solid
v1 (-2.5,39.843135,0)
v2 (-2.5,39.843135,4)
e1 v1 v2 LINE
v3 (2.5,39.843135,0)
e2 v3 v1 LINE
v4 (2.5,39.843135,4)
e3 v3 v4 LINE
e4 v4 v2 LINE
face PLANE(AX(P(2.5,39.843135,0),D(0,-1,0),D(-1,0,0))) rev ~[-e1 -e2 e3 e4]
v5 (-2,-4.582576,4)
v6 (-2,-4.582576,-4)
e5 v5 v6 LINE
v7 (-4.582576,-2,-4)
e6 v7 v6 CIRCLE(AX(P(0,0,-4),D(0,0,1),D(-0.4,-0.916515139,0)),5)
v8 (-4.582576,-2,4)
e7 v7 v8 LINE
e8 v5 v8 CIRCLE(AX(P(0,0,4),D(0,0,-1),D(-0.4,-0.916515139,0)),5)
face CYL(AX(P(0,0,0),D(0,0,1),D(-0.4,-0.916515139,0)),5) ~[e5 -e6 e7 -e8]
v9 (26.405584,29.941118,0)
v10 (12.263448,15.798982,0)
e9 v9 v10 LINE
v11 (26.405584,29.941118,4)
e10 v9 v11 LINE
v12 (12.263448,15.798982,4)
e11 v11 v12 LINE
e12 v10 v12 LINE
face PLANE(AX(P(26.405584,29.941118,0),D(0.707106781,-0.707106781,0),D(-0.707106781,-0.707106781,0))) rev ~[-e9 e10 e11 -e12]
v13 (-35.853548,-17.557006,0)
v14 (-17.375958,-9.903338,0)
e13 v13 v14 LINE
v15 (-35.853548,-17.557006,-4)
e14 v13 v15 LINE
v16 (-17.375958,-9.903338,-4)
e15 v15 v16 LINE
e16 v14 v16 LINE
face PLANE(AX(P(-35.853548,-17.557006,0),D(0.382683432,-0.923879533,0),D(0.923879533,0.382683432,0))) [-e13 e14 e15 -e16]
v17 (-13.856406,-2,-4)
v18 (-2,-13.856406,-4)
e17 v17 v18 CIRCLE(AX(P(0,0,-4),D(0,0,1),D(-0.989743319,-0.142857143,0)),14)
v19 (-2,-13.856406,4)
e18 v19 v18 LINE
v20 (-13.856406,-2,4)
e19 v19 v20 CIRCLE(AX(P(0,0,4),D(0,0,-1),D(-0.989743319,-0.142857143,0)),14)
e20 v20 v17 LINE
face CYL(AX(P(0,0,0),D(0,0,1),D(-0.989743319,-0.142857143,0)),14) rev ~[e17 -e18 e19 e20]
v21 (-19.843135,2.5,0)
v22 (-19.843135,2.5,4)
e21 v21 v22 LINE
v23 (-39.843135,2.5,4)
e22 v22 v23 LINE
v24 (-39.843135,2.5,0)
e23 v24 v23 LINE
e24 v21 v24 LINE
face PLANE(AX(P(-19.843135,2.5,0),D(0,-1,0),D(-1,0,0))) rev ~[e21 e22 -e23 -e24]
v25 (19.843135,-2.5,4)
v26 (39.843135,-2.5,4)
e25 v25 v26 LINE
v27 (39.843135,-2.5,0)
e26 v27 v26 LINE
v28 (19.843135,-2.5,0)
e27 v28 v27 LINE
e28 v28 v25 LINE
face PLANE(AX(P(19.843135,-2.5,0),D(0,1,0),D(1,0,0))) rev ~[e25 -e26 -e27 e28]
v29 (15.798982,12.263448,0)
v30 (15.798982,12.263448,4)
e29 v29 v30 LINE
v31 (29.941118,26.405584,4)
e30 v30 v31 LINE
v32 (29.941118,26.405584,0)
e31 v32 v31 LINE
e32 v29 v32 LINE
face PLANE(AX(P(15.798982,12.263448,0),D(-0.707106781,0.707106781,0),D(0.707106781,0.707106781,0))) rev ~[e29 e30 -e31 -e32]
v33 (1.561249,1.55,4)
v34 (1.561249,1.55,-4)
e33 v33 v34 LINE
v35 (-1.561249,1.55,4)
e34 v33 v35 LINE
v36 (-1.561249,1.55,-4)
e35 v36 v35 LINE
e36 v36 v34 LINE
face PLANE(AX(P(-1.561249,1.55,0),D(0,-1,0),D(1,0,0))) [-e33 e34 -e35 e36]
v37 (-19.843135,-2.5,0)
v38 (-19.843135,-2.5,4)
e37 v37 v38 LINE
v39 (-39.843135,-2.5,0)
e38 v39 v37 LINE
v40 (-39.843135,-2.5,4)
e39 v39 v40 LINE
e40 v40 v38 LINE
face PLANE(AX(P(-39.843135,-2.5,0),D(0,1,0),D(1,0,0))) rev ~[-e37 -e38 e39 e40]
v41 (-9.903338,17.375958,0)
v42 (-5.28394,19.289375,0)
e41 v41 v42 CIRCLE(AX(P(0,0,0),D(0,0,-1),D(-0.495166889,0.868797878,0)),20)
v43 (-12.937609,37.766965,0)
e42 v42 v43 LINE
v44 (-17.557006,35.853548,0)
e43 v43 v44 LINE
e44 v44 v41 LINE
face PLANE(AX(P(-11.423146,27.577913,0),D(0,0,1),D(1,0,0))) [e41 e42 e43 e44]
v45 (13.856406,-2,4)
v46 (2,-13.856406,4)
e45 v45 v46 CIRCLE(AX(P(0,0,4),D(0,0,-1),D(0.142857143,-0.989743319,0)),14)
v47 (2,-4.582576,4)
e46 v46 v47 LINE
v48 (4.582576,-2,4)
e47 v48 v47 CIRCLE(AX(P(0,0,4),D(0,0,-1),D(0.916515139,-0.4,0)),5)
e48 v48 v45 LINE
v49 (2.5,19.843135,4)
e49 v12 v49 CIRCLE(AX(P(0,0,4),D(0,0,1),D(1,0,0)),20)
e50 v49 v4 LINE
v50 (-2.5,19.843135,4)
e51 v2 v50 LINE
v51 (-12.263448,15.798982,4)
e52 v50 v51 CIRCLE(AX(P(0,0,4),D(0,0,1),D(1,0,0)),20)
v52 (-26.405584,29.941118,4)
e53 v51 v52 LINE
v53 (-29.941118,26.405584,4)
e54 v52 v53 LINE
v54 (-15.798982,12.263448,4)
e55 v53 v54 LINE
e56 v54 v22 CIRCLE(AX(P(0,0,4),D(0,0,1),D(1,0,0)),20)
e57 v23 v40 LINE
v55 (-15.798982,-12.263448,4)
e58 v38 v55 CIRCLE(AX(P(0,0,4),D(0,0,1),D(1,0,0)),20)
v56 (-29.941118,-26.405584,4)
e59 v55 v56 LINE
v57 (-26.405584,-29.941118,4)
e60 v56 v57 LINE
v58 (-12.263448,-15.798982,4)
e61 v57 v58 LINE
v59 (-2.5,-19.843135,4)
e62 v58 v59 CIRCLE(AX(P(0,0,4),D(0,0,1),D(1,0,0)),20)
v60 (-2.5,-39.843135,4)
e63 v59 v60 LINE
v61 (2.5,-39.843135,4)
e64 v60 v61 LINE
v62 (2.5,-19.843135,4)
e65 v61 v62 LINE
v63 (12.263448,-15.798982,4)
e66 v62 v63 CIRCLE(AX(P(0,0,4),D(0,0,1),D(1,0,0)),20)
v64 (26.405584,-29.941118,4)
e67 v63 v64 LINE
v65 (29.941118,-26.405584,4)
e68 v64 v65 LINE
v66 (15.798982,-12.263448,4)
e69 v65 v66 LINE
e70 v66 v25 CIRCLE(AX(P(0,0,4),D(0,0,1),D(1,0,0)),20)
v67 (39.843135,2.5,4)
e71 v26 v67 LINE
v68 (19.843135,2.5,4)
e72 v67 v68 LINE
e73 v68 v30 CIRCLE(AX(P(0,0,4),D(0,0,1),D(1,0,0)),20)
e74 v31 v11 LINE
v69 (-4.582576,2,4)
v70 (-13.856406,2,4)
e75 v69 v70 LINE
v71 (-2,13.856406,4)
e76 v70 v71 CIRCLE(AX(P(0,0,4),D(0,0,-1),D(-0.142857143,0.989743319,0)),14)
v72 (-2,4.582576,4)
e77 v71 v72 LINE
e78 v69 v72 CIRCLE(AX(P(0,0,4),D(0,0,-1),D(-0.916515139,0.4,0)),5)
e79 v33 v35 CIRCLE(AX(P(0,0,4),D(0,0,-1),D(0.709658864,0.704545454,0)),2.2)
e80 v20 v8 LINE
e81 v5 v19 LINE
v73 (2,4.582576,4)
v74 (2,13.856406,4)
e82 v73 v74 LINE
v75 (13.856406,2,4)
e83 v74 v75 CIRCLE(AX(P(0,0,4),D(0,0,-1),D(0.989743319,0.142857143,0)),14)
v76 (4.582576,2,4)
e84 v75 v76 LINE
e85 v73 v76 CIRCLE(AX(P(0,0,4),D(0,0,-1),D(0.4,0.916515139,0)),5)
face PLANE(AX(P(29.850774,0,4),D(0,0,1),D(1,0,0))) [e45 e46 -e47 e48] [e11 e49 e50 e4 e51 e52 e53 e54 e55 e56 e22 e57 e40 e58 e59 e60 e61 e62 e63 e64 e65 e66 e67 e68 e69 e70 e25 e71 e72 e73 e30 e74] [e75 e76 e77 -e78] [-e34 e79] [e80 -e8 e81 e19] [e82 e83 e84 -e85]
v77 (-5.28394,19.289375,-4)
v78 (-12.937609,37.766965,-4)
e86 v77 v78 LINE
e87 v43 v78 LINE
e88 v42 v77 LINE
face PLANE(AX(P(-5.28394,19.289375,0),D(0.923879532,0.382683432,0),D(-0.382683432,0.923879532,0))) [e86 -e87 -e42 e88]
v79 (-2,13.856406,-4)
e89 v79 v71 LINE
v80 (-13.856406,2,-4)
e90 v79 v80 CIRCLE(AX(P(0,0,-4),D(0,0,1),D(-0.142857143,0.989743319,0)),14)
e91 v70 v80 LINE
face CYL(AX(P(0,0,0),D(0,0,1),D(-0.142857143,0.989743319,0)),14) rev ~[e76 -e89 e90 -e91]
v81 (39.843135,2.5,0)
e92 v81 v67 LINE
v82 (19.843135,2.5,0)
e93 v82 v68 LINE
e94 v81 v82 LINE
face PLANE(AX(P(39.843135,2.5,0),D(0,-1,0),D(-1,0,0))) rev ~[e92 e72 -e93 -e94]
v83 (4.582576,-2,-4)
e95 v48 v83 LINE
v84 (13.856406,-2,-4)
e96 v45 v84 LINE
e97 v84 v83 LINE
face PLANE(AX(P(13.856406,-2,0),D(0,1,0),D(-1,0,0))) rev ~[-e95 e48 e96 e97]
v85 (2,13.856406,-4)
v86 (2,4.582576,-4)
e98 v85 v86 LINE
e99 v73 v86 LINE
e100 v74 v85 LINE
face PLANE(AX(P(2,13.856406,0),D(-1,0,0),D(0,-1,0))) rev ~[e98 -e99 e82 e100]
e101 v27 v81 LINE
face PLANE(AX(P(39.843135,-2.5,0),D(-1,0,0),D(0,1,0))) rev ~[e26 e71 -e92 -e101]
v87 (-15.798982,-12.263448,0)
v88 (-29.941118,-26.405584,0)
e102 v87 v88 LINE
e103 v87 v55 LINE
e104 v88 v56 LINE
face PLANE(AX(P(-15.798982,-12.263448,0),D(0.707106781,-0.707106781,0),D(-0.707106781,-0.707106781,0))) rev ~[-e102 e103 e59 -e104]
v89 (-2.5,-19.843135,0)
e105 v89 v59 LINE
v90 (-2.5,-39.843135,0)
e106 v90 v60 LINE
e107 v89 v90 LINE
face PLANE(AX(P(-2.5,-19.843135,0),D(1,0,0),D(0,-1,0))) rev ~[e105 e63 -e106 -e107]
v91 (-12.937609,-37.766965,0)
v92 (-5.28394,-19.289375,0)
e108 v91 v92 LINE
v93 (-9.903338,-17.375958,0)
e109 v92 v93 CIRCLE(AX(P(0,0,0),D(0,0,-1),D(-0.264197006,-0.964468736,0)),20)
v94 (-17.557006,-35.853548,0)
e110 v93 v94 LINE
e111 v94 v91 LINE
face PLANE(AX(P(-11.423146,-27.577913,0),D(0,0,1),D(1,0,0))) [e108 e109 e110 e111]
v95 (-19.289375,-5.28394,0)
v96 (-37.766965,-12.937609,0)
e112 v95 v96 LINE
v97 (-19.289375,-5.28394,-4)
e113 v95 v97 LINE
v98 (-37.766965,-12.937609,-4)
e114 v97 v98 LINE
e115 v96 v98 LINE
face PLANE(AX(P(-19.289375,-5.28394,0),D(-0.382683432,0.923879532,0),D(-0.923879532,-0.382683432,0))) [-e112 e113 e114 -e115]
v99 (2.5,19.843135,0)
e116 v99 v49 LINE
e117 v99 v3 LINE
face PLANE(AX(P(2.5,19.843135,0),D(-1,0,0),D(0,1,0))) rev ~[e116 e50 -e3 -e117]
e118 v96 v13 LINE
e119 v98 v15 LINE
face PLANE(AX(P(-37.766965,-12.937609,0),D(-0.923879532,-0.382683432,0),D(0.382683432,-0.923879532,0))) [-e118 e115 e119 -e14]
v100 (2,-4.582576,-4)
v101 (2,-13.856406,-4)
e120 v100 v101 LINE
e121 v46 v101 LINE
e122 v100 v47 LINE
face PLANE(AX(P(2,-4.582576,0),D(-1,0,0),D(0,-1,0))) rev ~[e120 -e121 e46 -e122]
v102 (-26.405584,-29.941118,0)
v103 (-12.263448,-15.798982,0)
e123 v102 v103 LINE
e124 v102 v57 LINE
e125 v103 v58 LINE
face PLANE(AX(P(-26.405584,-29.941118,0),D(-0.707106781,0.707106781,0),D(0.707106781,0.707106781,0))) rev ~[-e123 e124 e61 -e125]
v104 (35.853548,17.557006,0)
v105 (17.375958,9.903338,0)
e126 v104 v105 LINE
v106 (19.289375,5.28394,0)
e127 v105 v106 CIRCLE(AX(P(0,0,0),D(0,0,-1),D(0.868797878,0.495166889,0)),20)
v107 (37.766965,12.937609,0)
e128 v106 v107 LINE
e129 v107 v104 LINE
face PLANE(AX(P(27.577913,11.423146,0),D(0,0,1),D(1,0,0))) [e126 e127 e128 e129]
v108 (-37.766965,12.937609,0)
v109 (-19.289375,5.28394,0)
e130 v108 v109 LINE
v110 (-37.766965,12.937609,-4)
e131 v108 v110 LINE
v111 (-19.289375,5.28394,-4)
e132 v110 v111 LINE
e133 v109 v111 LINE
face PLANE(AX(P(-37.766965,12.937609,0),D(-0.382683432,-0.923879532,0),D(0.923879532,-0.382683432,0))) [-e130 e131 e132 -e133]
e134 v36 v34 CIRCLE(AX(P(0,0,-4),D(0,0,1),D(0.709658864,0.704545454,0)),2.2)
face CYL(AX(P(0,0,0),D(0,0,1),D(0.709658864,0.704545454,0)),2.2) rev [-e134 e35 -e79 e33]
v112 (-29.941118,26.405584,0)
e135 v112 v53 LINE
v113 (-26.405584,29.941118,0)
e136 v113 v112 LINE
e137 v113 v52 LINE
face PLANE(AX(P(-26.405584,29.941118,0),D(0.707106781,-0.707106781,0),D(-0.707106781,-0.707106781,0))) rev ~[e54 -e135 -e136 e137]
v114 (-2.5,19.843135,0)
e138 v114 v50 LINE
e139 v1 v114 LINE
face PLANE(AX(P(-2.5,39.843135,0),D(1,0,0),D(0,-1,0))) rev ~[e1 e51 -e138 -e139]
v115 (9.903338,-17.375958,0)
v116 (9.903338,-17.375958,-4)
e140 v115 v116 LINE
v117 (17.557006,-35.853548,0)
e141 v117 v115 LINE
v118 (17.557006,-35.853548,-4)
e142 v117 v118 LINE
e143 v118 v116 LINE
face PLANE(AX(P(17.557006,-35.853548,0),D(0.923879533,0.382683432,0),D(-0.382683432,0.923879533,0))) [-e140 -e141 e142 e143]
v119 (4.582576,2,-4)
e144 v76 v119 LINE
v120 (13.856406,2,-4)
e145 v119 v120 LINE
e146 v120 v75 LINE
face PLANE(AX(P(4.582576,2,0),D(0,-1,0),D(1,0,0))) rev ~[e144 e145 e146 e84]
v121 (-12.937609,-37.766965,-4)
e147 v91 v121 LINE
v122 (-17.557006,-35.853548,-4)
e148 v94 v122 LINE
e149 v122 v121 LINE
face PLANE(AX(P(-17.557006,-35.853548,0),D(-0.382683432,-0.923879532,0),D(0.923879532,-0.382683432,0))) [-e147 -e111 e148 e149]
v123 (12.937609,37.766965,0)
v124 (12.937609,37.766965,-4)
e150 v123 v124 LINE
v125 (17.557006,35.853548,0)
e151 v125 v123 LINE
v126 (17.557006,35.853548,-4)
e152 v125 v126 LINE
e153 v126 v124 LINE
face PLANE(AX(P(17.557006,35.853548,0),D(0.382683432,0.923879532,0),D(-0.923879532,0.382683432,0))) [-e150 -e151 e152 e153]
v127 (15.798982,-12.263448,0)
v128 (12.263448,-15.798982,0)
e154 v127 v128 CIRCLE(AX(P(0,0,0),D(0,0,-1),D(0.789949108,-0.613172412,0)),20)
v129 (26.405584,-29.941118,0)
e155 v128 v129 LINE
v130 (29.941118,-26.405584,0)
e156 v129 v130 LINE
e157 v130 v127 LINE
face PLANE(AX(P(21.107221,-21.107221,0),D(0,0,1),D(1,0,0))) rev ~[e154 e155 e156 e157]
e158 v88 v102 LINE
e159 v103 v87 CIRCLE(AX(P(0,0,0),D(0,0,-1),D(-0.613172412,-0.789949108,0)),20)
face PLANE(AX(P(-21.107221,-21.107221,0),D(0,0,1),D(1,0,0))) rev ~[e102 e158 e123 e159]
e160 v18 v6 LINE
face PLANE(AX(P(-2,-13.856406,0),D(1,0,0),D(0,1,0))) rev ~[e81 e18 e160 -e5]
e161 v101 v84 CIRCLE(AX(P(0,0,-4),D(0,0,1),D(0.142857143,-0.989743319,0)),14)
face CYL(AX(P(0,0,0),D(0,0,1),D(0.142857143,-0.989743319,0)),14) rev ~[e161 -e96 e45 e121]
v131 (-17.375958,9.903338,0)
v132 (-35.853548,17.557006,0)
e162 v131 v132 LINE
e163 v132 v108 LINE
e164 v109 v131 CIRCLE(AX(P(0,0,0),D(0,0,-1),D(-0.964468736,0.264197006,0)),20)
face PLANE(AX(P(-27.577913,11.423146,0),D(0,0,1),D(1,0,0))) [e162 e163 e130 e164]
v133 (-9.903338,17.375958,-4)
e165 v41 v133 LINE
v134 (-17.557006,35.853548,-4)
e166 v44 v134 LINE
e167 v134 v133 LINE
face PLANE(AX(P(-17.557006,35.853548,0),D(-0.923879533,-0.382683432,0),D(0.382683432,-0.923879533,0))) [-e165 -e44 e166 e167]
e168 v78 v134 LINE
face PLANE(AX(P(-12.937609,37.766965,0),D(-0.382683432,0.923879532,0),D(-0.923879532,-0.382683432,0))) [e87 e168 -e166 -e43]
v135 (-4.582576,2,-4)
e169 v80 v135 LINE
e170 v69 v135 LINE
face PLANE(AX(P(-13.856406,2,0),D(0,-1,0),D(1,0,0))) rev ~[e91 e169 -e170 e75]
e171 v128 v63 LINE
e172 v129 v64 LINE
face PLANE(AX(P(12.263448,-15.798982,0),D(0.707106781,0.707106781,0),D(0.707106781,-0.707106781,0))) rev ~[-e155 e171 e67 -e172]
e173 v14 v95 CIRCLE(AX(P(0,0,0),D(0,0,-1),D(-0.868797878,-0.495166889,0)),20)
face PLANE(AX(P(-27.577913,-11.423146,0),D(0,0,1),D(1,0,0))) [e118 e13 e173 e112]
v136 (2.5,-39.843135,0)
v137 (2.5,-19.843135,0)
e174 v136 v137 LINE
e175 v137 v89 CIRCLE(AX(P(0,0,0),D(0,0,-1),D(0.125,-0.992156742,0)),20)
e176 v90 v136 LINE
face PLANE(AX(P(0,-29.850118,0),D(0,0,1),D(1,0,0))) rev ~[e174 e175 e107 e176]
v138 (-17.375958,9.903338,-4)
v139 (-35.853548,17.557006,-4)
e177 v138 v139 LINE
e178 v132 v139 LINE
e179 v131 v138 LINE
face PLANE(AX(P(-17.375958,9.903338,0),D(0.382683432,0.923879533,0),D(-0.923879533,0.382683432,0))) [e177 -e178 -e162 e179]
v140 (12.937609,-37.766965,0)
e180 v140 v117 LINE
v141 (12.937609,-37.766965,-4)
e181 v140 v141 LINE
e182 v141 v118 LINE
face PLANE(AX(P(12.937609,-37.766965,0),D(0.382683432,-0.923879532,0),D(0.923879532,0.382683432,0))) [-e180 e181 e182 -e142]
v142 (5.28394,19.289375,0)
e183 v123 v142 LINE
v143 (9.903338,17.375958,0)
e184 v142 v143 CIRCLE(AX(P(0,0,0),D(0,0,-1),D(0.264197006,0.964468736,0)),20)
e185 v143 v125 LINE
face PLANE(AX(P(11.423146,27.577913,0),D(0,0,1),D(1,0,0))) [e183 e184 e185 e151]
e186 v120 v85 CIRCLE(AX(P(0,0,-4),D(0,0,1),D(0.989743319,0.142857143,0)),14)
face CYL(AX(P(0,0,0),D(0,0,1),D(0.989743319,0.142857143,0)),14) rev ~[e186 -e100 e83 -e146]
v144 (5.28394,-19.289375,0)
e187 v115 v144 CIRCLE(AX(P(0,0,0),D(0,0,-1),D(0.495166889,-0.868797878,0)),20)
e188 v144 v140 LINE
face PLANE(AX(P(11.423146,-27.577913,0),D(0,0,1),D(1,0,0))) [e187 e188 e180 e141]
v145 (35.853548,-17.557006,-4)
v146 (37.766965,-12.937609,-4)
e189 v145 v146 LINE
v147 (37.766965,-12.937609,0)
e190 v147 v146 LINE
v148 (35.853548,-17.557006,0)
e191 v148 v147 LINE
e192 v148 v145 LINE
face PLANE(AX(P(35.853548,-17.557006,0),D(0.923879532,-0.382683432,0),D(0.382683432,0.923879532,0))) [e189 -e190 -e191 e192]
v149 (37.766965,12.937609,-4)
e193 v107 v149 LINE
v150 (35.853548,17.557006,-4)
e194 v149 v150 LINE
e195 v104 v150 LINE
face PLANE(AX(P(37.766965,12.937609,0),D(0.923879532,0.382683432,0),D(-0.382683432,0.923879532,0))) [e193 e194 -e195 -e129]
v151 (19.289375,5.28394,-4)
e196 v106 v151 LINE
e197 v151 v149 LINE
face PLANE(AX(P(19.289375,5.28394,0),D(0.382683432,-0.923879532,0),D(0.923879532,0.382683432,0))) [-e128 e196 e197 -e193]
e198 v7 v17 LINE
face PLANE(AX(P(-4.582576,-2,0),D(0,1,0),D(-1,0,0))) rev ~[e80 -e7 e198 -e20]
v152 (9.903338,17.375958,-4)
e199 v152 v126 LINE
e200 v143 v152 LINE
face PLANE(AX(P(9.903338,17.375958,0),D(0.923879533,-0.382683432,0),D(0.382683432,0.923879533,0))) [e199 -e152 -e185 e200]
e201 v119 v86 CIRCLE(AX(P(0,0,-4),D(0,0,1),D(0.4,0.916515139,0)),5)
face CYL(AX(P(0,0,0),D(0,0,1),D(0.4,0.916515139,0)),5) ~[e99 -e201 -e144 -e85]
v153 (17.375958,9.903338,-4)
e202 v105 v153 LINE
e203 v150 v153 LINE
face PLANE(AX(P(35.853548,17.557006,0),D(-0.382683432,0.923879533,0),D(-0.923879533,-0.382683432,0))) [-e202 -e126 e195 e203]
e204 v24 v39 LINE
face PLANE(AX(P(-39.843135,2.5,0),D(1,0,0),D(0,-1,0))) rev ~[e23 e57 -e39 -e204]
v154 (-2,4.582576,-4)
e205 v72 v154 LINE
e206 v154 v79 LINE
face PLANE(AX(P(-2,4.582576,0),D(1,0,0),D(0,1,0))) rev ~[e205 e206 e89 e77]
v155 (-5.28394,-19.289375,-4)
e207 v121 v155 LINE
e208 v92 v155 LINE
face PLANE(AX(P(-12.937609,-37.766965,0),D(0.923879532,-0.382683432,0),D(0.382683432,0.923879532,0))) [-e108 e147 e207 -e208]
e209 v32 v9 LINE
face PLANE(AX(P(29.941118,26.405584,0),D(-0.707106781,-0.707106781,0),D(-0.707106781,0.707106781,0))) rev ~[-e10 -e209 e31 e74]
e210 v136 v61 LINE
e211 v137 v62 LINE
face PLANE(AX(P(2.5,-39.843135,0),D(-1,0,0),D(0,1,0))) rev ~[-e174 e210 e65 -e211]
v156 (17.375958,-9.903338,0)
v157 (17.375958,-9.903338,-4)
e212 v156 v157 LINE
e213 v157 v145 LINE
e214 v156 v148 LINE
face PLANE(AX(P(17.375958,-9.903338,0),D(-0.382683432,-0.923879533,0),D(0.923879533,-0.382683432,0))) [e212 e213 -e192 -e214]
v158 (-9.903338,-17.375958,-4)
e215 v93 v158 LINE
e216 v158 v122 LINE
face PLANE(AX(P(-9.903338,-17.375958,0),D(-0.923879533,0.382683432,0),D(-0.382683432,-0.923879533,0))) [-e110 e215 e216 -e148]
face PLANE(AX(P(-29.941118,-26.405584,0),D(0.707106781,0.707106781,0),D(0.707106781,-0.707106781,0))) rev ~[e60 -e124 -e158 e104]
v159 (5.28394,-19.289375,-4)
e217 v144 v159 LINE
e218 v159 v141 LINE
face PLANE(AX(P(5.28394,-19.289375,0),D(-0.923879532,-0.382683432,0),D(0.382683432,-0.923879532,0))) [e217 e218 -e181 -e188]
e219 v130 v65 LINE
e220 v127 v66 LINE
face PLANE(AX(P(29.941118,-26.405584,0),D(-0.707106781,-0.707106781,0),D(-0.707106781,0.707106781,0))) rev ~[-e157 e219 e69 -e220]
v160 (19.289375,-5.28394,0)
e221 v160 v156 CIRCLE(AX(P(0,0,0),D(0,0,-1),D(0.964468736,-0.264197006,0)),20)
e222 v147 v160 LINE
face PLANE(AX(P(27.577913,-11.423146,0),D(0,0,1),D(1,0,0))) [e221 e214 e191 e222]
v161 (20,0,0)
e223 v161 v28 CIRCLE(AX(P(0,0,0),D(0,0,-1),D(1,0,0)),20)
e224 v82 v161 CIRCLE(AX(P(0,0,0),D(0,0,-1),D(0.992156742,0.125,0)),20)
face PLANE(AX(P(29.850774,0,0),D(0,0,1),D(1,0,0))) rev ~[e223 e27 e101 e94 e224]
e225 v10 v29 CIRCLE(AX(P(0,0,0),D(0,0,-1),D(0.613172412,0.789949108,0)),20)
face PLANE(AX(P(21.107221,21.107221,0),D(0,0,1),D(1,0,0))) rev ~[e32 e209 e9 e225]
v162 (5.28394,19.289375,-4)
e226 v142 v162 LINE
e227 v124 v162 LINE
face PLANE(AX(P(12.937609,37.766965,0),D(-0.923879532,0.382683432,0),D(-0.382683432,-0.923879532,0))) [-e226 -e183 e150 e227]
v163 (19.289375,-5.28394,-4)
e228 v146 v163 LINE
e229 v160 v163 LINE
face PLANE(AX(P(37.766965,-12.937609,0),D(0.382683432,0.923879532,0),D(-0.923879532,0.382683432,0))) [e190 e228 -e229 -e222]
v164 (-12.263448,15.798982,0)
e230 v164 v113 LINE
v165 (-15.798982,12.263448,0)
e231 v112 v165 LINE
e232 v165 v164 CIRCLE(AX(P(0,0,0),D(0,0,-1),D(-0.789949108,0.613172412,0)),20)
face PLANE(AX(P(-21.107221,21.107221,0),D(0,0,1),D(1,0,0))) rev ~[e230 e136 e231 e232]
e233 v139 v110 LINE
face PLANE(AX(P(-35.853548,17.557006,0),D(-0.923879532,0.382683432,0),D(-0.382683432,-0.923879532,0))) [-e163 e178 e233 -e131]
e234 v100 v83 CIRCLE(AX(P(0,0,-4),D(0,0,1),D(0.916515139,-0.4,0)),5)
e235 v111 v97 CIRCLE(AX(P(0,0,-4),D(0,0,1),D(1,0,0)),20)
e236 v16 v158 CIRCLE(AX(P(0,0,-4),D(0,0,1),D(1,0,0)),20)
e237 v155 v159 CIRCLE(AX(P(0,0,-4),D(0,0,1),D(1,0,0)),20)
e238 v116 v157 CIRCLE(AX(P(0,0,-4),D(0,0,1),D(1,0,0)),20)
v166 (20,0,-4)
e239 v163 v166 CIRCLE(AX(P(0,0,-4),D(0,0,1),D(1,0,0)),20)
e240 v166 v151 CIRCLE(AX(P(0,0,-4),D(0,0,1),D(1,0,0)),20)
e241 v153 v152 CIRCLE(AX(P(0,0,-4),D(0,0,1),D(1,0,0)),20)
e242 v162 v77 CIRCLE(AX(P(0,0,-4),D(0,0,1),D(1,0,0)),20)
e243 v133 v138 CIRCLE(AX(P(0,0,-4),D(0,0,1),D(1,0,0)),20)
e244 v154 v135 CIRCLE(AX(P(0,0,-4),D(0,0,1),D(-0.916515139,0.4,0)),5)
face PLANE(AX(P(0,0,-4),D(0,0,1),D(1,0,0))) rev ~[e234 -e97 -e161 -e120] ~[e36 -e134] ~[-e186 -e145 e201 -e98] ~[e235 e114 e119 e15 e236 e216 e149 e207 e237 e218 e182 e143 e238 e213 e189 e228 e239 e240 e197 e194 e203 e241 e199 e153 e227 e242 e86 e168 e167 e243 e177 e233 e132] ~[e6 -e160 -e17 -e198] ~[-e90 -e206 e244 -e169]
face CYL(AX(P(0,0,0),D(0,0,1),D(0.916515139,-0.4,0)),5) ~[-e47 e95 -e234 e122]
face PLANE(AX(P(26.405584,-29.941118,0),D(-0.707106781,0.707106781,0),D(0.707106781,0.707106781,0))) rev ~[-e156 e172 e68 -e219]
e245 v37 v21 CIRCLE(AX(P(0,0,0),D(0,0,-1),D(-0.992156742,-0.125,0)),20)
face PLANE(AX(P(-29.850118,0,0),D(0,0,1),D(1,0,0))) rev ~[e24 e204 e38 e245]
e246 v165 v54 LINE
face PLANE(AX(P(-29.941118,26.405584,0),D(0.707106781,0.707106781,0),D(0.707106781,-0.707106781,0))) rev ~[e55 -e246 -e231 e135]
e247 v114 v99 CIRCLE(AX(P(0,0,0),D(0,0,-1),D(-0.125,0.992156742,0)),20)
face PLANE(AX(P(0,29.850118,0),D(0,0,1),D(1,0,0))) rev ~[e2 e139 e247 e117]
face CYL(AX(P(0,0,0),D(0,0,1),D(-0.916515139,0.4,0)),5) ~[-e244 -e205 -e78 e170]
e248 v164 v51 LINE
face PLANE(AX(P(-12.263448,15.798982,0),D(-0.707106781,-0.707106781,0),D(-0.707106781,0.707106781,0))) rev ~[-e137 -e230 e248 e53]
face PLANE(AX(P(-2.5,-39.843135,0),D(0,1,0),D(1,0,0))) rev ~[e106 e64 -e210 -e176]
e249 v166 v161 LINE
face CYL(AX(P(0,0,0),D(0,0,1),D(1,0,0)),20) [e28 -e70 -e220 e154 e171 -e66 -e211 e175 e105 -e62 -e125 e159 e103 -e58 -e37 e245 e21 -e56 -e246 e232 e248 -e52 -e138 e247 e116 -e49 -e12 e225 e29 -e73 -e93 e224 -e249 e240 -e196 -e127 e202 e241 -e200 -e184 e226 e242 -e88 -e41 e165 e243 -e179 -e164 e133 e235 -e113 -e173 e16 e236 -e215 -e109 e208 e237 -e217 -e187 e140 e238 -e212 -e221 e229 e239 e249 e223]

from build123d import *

# Parameters (mm, degrees)
SKETCH_2_R               = 20
EXTRUDE_3_DEPTH          = 4
CUT_EXTRUDE_6_DEPTH      = 5
CUT_EXTRUDE_6_DEPTH_BACK = 5
CUT_EXTRUDE_7_DEPTH      = 5
CUT_EXTRUDE_7_DEPTH_BACK = 5
EXTRUDE_4_DEPTH          = 4
EXTRUDE_5_DEPTH          = 4


with BuildPart() as part:
    # Эскиз2 → Бобышка-Вытянуть3 (new body, symmetric)
    with BuildSketch(Plane.XY):
        Circle(SKETCH_2_R)
    extrude(amount=EXTRUDE_3_DEPTH, both=True)

    # Эскиз2<10> → Вырез-Вытянуть6 (cut, two sides)
    with BuildSketch(Plane.XY) as cut_extrude_6_sk:
        with BuildLine():
            Line((-1.5612495, 1.55), (1.5612495, 1.55))
            ThreePointArc((1.5612495, 1.55), (0, -2.2), (-1.5612495, 1.55))
        make_face()
    extrude(amount=CUT_EXTRUDE_6_DEPTH, mode=Mode.SUBTRACT)
    extrude(cut_extrude_6_sk.sketch, amount=-CUT_EXTRUDE_6_DEPTH_BACK, mode=Mode.SUBTRACT)

    # Эскиз2<11> → Вырез-Вытянуть7 (cut, two sides)
    with BuildSketch(Plane.XY) as cut_extrude_7_sk:
        with BuildLine():
            ThreePointArc((13.856406461, 2), (9.899494937, 9.899494937), (2, 13.856406461))
            Line((2, 13.856406461), (2, 4.582575695))
            ThreePointArc((2, 4.582575695), (3.535533906, 3.535533906), (4.582575695, 2))
            Line((4.582575695, 2), (13.856406461, 2))
        make_face()
        with BuildLine():
            ThreePointArc((-2, 13.856406461), (-9.899494937, 9.899494937), (-13.856406461, 2))
            Line((-13.856406461, 2), (-4.582575695, 2))
            ThreePointArc((-4.582575695, 2), (-3.535533906, 3.535533906), (-2, 4.582575695))
            Line((-2, 4.582575695), (-2, 13.856406461))
        make_face()
        with BuildLine():
            Line((-4.582575695, -2), (-13.856406461, -2))
            ThreePointArc((-13.856406461, -2), (-9.899494937, -9.899494937), (-2, -13.856406461))
            Line((-2, -13.856406461), (-2, -4.582575695))
            ThreePointArc((-2, -4.582575695), (-3.535533906, -3.535533906), (-4.582575695, -2))
        make_face()
        with BuildLine():
            Line((2, -4.582575695), (2, -13.856406461))
            ThreePointArc((2, -13.856406461), (9.899494937, -9.899494937), (13.856406461, -2))
            Line((13.856406461, -2), (4.582575695, -2))
            ThreePointArc((4.582575695, -2), (3.535533906, -3.535533906), (2, -4.582575695))
        make_face()
    extrude(amount=CUT_EXTRUDE_7_DEPTH, mode=Mode.SUBTRACT)
    extrude(cut_extrude_7_sk.sketch, amount=-CUT_EXTRUDE_7_DEPTH_BACK, mode=Mode.SUBTRACT)

    # Эскиз2<12> → Бобышка-Вытянуть4 (add)
    with BuildSketch(Plane.XY):
        with BuildLine():
            ThreePointArc((20, 0), (19.960745185, -1.252458251), (19.843134833, -2.5))
            Line((19.843134833, -2.5), (39.843134833, -2.5))
            Line((39.843134833, -2.5), (39.843134833, 2.5))
            Line((39.843134833, 2.5), (19.843134833, 2.5))
            ThreePointArc((19.843134833, 2.5), (19.960745185, 1.252458251), (20, 0))
        make_face()
        with BuildLine():
            Line((26.405583871, 29.941117777), (12.263448247, 15.798982153))
            ThreePointArc((12.263448247, 15.798982153), (14.142135624, 14.142135624), (15.798982153, 12.263448247))
            Line((15.798982153, 12.263448247), (29.941117777, 26.405583871))
            Line((29.941117777, 26.405583871), (26.405583871, 29.941117777))
        make_face()
        with BuildLine():
            Line((-2.5, 39.843134833), (-2.5, 19.843134833))
            ThreePointArc((-2.5, 19.843134833), (0, 20), (2.5, 19.843134833))
            Line((2.5, 19.843134833), (2.5, 39.843134833))
            Line((2.5, 39.843134833), (-2.5, 39.843134833))
        make_face()
        with BuildLine():
            Line((-29.941117777, 26.405583871), (-15.798982153, 12.263448247))
            ThreePointArc((-15.798982153, 12.263448247), (-14.142135624, 14.142135624), (-12.263448247, 15.798982153))
            Line((-12.263448247, 15.798982153), (-26.405583871, 29.941117777))
            Line((-26.405583871, 29.941117777), (-29.941117777, 26.405583871))
        make_face()
        with BuildLine():
            Line((-39.843134833, -2.5), (-19.843134833, -2.5))
            ThreePointArc((-19.843134833, -2.5), (-20, 0), (-19.843134833, 2.5))
            Line((-19.843134833, 2.5), (-39.843134833, 2.5))
            Line((-39.843134833, 2.5), (-39.843134833, -2.5))
        make_face()
        with BuildLine():
            ThreePointArc((-12.263448247, -15.798982153), (-14.142135624, -14.142135624), (-15.798982153, -12.263448247))
            Line((-15.798982153, -12.263448247), (-29.941117777, -26.405583871))
            Line((-29.941117777, -26.405583871), (-26.405583871, -29.941117777))
            Line((-26.405583871, -29.941117777), (-12.263448247, -15.798982153))
        make_face()
        with BuildLine():
            ThreePointArc((2.5, -19.843134833), (0, -20), (-2.5, -19.843134833))
            Line((-2.5, -19.843134833), (-2.5, -39.843134833))
            Line((-2.5, -39.843134833), (2.5, -39.843134833))
            Line((2.5, -39.843134833), (2.5, -19.843134833))
        make_face()
        with BuildLine():
            ThreePointArc((15.798982153, -12.263448247), (14.142135624, -14.142135624), (12.263448247, -15.798982153))
            Line((12.263448247, -15.798982153), (26.405583871, -29.941117777))
            Line((26.405583871, -29.941117777), (29.941117777, -26.405583871))
            Line((29.941117777, -26.405583871), (15.798982153, -12.263448247))
        make_face()
    extrude(amount=EXTRUDE_4_DEPTH)

    # Эскиз2<13> → Бобышка-Вытянуть5 (add)
    with BuildSketch(Plane.XY):
        with BuildLine():
            Line((-17.557006425, 35.853548202), (-9.903337778, 17.375957552))
            ThreePointArc((-9.903337778, 17.375957552), (-7.653668647, 18.47759065), (-5.283940115, 19.289374714))
            Line((-5.283940115, 19.289374714), (-12.937608763, 37.766965364))
            Line((-12.937608763, 37.766965364), (-17.557006425, 35.853548202))
        make_face()
        with BuildLine():
            Line((-37.766965364, 12.937608763), (-19.289374714, 5.283940115))
            ThreePointArc((-19.289374714, 5.283940115), (-18.47759065, 7.653668647), (-17.375957552, 9.903337778))
            Line((-17.375957552, 9.903337778), (-35.853548202, 17.557006425))
            Line((-35.853548202, 17.557006425), (-37.766965364, 12.937608763))
        make_face()
        with BuildLine():
            ThreePointArc((-17.375957552, -9.903337778), (-18.47759065, -7.653668647), (-19.289374714, -5.283940115))
            Line((-19.289374714, -5.283940115), (-37.766965364, -12.937608763))
            Line((-37.766965364, -12.937608763), (-35.853548202, -17.557006425))
            Line((-35.853548202, -17.557006425), (-17.375957552, -9.903337778))
        make_face()
        with BuildLine():
            ThreePointArc((-5.283940115, -19.289374714), (-7.653668647, -18.47759065), (-9.903337778, -17.375957552))
            Line((-9.903337778, -17.375957552), (-17.557006425, -35.853548202))
            Line((-17.557006425, -35.853548202), (-12.937608763, -37.766965364))
            Line((-12.937608763, -37.766965364), (-5.283940115, -19.289374714))
        make_face()
        with BuildLine():
            ThreePointArc((9.903337778, -17.375957552), (7.653668647, -18.47759065), (5.283940115, -19.289374714))
            Line((5.283940115, -19.289374714), (12.937608763, -37.766965364))
            Line((12.937608763, -37.766965364), (17.557006425, -35.853548202))
            Line((17.557006425, -35.853548202), (9.903337778, -17.375957552))
        make_face()
        with BuildLine():
            ThreePointArc((19.289374714, -5.283940115), (18.47759065, -7.653668647), (17.375957552, -9.903337778))
            Line((17.375957552, -9.903337778), (35.853548202, -17.557006425))
            Line((35.853548202, -17.557006425), (37.766965364, -12.937608763))
            Line((37.766965364, -12.937608763), (19.289374714, -5.283940115))
        make_face()
        with BuildLine():
            Line((35.853548202, 17.557006425), (17.375957552, 9.903337778))
            ThreePointArc((17.375957552, 9.903337778), (18.47759065, 7.653668647), (19.289374714, 5.283940115))
            Line((19.289374714, 5.283940115), (37.766965364, 12.937608763))
            Line((37.766965364, 12.937608763), (35.853548202, 17.557006425))
        make_face()
        with BuildLine():
            Line((12.937608763, 37.766965364), (5.283940115, 19.289374714))
            ThreePointArc((5.283940115, 19.289374714), (7.653668647, 18.47759065), (9.903337778, 17.375957552))
            Line((9.903337778, 17.375957552), (17.557006425, 35.853548202))
            Line((17.557006425, 35.853548202), (12.937608763, 37.766965364))
        make_face()
    extrude(amount=-EXTRUDE_5_DEPTH)


solid = part.part
